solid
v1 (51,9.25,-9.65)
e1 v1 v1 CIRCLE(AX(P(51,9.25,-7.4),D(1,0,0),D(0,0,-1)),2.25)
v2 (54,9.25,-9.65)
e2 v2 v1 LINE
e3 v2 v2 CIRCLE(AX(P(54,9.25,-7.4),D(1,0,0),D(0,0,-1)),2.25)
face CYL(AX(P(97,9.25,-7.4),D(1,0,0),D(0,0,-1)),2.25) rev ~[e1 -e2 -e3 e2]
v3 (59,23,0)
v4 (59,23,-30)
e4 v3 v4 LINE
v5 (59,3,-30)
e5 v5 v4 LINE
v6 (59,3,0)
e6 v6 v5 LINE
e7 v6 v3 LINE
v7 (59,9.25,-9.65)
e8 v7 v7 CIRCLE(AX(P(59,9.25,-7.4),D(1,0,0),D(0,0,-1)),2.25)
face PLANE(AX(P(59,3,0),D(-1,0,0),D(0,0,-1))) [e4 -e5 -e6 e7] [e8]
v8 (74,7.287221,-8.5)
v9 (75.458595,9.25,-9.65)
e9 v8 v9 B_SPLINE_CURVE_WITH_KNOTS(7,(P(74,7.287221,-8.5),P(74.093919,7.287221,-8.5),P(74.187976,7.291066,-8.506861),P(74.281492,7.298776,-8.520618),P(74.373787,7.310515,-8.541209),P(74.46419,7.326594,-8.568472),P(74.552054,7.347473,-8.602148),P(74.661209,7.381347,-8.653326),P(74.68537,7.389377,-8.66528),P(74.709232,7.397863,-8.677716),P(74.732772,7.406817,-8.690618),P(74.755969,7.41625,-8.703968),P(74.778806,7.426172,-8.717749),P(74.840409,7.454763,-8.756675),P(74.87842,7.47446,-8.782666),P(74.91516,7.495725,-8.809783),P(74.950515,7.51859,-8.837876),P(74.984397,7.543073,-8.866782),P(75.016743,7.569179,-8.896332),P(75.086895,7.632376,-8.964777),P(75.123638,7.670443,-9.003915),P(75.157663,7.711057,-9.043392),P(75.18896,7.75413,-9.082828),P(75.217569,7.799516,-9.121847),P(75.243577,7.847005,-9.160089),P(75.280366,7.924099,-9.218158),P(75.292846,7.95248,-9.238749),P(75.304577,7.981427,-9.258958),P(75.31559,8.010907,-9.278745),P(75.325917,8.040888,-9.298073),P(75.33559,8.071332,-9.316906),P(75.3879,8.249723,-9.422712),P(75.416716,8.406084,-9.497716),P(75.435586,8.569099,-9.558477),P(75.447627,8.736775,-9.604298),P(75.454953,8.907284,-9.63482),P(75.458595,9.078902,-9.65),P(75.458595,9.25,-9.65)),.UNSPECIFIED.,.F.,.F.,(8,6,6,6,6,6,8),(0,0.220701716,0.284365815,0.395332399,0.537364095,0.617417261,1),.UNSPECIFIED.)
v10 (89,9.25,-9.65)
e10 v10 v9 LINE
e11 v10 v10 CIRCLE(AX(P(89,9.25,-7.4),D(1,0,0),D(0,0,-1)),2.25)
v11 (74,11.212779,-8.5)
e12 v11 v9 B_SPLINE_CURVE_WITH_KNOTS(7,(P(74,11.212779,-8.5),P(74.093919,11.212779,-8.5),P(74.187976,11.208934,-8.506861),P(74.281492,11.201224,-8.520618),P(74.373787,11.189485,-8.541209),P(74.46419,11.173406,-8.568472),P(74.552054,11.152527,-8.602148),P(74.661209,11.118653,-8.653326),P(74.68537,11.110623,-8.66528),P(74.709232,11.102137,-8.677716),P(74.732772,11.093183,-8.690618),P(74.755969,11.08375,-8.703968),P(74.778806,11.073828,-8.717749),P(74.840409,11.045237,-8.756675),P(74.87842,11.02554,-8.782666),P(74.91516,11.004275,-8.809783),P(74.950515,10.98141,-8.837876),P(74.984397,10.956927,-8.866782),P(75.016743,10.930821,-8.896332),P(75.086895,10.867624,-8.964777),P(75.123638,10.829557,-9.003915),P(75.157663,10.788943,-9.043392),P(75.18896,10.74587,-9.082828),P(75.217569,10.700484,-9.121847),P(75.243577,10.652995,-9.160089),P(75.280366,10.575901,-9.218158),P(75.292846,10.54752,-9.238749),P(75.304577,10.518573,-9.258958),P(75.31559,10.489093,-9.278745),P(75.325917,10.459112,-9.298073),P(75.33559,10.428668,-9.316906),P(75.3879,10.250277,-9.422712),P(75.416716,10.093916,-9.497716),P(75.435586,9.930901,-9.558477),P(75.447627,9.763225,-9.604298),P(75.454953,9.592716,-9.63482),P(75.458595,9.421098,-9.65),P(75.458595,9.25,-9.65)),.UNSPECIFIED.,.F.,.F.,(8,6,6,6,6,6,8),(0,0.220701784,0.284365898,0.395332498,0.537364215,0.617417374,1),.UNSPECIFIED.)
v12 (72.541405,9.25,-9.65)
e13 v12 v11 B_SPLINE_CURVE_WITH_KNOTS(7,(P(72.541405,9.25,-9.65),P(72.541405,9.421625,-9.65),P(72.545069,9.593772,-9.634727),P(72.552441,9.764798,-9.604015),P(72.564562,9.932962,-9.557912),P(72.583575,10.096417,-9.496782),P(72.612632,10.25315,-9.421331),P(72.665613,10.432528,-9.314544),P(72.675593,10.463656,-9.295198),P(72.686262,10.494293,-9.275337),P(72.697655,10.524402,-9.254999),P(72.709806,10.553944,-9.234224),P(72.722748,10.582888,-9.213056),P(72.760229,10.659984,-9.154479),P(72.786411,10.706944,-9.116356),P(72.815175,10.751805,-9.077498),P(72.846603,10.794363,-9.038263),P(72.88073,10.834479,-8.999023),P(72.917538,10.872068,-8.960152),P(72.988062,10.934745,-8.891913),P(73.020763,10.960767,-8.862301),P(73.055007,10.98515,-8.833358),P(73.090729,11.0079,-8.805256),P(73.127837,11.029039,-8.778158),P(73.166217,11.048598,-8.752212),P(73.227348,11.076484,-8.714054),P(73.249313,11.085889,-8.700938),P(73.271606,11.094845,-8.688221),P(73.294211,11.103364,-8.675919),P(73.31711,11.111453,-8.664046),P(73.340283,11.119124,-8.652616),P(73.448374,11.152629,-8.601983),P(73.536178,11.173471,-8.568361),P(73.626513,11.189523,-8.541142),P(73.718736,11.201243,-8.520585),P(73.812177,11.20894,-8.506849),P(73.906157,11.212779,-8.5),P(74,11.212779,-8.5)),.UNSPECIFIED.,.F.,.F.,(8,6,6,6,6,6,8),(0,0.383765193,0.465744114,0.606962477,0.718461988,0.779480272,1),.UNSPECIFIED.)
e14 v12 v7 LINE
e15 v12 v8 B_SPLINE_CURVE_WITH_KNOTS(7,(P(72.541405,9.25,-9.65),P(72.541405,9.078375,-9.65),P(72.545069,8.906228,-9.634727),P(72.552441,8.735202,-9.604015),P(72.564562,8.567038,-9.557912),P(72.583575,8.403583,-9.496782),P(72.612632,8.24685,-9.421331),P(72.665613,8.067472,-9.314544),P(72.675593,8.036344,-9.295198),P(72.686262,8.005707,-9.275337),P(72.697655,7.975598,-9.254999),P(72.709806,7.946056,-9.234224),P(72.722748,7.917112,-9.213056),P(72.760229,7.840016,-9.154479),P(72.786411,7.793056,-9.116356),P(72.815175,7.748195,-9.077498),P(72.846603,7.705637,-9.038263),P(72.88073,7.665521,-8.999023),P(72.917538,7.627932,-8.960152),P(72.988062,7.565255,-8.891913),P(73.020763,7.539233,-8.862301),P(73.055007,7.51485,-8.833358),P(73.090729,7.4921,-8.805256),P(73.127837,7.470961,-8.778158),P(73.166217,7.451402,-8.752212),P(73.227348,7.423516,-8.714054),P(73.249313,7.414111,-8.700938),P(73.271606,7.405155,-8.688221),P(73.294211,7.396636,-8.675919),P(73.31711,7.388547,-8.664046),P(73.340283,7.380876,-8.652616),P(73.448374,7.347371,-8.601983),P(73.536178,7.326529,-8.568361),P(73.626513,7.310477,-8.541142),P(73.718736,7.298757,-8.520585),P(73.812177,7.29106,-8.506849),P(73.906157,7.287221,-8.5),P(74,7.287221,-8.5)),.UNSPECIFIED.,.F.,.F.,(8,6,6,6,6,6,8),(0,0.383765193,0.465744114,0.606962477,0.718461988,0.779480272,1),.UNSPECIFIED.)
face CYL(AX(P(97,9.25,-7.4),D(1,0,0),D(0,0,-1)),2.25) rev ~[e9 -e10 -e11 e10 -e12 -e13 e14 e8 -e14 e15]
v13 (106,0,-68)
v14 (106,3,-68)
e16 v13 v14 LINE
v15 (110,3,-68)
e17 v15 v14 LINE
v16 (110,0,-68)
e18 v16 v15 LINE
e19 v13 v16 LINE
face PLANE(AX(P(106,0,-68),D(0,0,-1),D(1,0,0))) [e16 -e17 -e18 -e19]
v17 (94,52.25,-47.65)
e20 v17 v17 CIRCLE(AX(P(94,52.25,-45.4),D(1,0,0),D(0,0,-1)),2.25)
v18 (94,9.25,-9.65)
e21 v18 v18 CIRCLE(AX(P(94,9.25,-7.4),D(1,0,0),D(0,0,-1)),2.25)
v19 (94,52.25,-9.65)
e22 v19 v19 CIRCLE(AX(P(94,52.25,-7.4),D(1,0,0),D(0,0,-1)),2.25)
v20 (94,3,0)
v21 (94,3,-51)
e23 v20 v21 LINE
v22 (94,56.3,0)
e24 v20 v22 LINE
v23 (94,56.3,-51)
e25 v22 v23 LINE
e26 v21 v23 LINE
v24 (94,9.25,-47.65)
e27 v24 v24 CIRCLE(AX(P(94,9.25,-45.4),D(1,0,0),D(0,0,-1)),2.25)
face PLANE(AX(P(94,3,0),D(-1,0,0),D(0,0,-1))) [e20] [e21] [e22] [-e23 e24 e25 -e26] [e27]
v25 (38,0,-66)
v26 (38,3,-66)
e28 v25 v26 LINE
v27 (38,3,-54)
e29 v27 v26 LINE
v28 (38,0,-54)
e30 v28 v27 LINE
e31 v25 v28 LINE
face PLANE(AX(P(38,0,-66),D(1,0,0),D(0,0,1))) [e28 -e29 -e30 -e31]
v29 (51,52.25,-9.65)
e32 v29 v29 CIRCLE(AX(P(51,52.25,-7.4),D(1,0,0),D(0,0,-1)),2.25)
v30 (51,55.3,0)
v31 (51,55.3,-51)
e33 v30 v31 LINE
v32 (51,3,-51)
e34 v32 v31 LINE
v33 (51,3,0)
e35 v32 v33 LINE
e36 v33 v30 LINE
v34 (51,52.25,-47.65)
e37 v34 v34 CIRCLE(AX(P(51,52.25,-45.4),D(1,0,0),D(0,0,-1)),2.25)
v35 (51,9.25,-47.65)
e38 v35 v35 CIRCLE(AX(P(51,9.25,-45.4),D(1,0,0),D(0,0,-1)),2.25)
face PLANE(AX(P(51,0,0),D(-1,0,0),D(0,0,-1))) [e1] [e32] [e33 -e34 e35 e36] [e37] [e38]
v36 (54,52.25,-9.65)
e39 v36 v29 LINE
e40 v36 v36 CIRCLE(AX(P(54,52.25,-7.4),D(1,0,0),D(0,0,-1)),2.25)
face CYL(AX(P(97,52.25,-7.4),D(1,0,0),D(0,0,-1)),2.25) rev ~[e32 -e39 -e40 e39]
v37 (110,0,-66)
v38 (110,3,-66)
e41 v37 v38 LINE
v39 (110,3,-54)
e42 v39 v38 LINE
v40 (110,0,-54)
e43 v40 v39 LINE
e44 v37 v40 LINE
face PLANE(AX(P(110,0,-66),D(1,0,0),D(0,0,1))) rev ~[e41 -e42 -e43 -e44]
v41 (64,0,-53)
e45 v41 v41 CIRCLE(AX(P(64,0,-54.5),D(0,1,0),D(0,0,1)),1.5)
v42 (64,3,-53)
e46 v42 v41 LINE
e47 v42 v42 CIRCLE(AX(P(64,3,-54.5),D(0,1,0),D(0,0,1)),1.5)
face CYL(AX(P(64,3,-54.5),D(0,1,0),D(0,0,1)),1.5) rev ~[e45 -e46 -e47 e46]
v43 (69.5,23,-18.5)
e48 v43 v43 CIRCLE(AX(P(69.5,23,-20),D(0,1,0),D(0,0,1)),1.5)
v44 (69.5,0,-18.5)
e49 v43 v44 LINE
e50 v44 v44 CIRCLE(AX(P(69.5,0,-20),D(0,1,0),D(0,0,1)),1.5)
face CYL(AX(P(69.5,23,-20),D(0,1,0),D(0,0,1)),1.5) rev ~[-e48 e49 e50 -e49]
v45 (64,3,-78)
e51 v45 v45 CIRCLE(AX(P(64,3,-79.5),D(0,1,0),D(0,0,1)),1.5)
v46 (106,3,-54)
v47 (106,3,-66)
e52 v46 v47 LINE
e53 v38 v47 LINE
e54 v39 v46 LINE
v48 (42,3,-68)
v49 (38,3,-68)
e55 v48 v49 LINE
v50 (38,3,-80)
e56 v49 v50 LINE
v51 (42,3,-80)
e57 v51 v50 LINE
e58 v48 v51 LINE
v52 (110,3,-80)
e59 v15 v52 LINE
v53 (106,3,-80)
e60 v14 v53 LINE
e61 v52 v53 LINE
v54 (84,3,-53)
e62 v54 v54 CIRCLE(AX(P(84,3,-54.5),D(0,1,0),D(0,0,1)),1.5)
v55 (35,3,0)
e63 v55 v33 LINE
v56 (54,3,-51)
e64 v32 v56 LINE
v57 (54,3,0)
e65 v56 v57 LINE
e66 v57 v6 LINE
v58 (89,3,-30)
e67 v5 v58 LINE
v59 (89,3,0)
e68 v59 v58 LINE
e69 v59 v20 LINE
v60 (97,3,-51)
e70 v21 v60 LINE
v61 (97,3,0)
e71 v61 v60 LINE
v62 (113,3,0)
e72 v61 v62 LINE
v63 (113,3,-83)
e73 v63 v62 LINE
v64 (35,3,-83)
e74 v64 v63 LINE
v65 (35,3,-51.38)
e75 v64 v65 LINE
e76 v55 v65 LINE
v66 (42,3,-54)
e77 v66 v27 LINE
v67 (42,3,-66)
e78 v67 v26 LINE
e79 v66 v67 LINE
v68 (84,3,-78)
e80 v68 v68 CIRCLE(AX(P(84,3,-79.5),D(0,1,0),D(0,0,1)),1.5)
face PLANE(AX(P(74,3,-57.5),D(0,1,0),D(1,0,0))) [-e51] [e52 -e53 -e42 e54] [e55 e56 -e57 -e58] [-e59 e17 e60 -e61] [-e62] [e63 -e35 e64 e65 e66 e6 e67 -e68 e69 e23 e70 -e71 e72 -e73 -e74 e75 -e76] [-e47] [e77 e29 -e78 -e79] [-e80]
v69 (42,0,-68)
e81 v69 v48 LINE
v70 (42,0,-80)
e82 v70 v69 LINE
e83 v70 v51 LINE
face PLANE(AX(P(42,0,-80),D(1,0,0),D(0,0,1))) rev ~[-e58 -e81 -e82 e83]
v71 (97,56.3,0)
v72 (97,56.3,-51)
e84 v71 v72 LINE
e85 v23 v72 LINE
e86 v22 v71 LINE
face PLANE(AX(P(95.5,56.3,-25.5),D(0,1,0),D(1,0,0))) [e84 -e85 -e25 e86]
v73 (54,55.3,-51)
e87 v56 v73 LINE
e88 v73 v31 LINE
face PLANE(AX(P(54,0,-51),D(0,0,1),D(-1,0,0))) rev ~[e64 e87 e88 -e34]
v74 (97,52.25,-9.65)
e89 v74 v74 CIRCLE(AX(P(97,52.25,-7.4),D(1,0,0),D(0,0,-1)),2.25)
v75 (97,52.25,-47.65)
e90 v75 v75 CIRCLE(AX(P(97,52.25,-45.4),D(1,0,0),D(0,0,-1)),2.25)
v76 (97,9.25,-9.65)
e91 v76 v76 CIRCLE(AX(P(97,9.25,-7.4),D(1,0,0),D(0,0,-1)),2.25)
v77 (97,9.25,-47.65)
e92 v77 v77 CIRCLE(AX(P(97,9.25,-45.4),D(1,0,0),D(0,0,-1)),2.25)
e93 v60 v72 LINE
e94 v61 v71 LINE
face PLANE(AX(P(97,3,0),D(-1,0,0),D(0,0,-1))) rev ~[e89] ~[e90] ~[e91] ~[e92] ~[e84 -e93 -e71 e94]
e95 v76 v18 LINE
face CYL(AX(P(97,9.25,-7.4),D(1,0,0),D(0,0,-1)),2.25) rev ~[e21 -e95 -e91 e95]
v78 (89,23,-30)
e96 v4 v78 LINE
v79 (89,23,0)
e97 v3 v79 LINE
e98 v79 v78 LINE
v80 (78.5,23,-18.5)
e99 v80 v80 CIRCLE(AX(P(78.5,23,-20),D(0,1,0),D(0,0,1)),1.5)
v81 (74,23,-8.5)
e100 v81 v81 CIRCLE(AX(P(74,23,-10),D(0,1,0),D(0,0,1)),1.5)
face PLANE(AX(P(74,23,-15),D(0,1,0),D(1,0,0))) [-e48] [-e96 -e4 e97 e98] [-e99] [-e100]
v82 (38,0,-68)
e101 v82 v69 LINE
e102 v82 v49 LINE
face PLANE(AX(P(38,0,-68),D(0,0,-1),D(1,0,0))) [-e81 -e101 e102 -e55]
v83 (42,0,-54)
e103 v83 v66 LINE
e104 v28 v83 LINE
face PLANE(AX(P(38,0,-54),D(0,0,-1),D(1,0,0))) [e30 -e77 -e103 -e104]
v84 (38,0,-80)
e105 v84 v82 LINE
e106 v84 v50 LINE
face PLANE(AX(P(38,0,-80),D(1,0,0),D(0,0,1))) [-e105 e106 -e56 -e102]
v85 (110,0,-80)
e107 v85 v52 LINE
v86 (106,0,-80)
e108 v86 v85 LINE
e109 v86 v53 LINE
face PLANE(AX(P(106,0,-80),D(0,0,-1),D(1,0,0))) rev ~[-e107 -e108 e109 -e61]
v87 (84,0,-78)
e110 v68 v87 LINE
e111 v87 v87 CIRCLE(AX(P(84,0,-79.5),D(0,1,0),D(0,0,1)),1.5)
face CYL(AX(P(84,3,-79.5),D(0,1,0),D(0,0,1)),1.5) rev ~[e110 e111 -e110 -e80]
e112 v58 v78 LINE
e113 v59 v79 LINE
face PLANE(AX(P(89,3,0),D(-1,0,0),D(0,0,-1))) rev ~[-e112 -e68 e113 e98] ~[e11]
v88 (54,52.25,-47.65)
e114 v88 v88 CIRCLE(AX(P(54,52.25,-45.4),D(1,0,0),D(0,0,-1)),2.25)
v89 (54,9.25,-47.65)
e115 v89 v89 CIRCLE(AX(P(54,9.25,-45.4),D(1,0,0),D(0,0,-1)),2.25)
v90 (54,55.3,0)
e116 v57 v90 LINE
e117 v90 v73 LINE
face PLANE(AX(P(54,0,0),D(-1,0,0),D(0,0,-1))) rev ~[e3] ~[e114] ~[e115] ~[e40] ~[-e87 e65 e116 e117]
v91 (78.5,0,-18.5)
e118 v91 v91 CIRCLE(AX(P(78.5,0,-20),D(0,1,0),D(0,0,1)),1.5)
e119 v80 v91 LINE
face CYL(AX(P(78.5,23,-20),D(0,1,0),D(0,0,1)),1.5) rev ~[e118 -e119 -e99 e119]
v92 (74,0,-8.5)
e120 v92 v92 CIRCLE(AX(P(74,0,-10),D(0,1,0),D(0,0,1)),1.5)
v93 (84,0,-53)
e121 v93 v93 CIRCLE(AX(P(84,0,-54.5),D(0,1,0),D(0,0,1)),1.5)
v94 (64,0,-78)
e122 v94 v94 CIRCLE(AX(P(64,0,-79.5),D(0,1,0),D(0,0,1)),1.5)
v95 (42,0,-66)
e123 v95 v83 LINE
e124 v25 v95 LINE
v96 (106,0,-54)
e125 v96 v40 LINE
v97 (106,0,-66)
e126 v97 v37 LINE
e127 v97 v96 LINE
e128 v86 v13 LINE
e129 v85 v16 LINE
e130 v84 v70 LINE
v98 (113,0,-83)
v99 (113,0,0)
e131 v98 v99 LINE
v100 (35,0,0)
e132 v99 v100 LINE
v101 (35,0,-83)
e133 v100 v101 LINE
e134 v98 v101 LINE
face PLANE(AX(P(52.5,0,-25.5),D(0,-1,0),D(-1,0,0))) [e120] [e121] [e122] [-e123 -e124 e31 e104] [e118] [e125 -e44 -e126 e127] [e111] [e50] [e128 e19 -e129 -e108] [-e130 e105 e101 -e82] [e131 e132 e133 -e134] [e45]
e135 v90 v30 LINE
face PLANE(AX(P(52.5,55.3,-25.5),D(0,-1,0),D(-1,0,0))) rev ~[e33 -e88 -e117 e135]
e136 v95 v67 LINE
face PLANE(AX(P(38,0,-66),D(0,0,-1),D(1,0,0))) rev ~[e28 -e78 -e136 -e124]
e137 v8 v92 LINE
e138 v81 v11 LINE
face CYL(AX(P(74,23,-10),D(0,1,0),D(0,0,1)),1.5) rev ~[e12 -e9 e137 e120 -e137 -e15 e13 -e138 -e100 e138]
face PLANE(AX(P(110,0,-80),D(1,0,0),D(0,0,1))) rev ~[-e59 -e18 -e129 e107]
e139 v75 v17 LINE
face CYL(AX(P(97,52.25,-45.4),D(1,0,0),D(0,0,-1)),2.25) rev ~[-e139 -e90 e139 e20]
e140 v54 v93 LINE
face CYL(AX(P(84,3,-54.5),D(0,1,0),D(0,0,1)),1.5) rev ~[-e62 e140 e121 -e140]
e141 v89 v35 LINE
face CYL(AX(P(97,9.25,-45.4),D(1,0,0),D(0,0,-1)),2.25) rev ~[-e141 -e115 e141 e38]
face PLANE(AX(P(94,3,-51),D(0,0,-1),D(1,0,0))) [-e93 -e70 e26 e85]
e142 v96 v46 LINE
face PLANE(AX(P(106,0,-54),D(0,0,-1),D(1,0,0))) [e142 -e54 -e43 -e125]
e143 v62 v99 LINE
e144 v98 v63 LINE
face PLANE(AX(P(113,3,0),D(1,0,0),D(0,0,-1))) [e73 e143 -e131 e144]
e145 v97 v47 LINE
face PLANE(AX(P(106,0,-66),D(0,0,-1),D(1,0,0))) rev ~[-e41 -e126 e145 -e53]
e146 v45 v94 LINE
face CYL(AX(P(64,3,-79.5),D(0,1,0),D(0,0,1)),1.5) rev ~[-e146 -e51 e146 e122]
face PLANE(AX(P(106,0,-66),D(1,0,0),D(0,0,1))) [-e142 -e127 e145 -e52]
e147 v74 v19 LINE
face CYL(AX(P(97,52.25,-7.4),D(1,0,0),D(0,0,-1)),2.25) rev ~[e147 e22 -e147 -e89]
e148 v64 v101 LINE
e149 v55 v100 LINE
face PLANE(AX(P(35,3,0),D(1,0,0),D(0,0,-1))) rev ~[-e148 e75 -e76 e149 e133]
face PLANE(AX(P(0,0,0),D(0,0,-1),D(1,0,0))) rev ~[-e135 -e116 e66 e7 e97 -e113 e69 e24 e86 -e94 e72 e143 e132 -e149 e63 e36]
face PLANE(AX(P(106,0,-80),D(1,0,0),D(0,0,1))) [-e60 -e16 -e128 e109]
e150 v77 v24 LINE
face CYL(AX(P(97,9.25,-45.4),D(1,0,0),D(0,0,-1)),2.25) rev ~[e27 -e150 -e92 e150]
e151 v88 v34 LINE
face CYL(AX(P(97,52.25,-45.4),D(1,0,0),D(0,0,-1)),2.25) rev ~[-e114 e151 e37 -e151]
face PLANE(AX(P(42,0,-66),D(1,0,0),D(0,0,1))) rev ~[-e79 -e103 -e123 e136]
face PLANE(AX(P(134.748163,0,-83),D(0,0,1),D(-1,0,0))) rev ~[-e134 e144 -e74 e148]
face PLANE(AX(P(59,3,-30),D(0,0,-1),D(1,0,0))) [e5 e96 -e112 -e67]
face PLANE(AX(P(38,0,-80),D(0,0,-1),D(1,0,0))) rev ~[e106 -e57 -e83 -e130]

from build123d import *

# Parameters (mm, degrees)
SKETCH1_W            = 148
SKETCH1_H            = 115
BOSS_EXTRUDE4_DEPTH  = 3
SKETCH2_R            = 2.25
CUT_EXTRUDE1_DEPTH   = 3
SKETCH3_R            = 2.25
CUT_EXTRUDE2_DEPTH   = 3
SKETCH4_R            = 2.25
CUT_EXTRUDE3_DEPTH   = 3
SKETCH5_W            = 30
SKETCH5_H            = 30
BOSS_EXTRUDE7_DEPTH  = 20
SKETCH6_R            = 2.25
CUT_EXTRUDE4_DEPTH   = 10
SKETCH7_R            = 1.5
CUT_EXTRUDE5_DEPTH   = 30
SKETCH10_W           = 20
SKETCH10_H           = 51.38
CUT_EXTRUDE6_DEPTH   = 51.3
SKETCH11_W           = 20.353734706
SKETCH11_H           = 51.38
CUT_EXTRUDE7_DEPTH   = 51.3
SKETCH13_W           = 5
SKETCH13_H           = 14
CUT_EXTRUDE8_DEPTH   = 51.3
SKETCH8_W            = 3
SKETCH8_H            = 51
BOSS_EXTRUDE11_DEPTH = 53.3
SKETCH9_W            = 3
SKETCH9_H            = 51
BOSS_EXTRUDE12_DEPTH = 55.3
SKETCH15_R           = 2.25
CUT_EXTRUDE12_DEPTH  = 53.3
SKETCH14_R           = 2.25
CUT_EXTRUDE13_DEPTH  = 53.3
SKETCH17_R           = 2.25
CUT_EXTRUDE14_DEPTH  = 53.3
SKETCH18_W           = 15
SKETCH18_H           = 51.38
CUT_EXTRUDE15_DEPTH  = 10
SKETCH19_W           = 145.001760506
SKETCH19_H           = 61.096648556
BOSS_EXTRUDE13_DEPTH = 3
SKETCH20_R           = 1.5
CUT_EXTRUDE16_DEPTH  = 43
SKETCH21_W           = 109.74816289
SKETCH21_H           = 51.975747058
CUT_EXTRUDE18_DEPTH  = 43
SKETCH23_W           = 39.73104878
SKETCH23_H           = 68.636927329
CUT_EXTRUDE19_DEPTH  = 43
SKETCH24_W           = 37.931057655
SKETCH24_H           = 65.519761518
CUT_EXTRUDE20_DEPTH  = 43
SKETCH25_W           = 4
SKETCH25_H           = 12
CUT_EXTRUDE23_DEPTH  = 43


with BuildPart() as part:
    # Sketch1 → Boss-Extrude4 (new body)
    with BuildSketch(Plane(origin=(0, 0, 0), x_dir=(1, 0, 0), z_dir=(0, 1, 0))):
        with Locations((74, 57.5)):
            Rectangle(SKETCH1_W, SKETCH1_H)
    extrude(amount=BOSS_EXTRUDE4_DEPTH)

    # Sketch2 → Cut-Extrude1 (cut)
    with BuildSketch(Plane(origin=(0, 3, 0), x_dir=(1, 0, 0), z_dir=(0, 1, 0))):
        with Locations(Location((5, 110, 0), (0, 0, 270))):
            Circle(SKETCH2_R)
    extrude(amount=-CUT_EXTRUDE1_DEPTH, mode=Mode.SUBTRACT)

    # Sketch3 → Cut-Extrude2 (cut)
    with BuildSketch(Plane(origin=(0, 3, 0), x_dir=(1, 0, 0), z_dir=(0, 1, 0))):
        with Locations(Location((143, 110, 0), (0, 0, 270))):
            Circle(SKETCH3_R)
    extrude(amount=-CUT_EXTRUDE2_DEPTH, mode=Mode.SUBTRACT)

    # Sketch4 → Cut-Extrude3 (cut)
    with BuildSketch(Plane(origin=(0, 3, 0), x_dir=(1, 0, 0), z_dir=(0, 1, 0))):
        with Locations(Location((5, 56, 0), (0, 0, 270))):
            Circle(SKETCH4_R)
    extrude(amount=-CUT_EXTRUDE3_DEPTH, mode=Mode.SUBTRACT)

    # Sketch5 → Boss-Extrude7 (add)
    with BuildSketch(Plane(origin=(0, 3, 0), x_dir=(1, 0, 0), z_dir=(0, 1, 0))):
        with Locations((74, 15)):
            Rectangle(SKETCH5_W, SKETCH5_H)
    extrude(amount=BOSS_EXTRUDE7_DEPTH)

    # Sketch6 → Cut-Extrude4 (cut)
    with BuildSketch(Plane(origin=(0, 3, 0), x_dir=(1, 0, 0), z_dir=(0, 1, 0))):
        with Locations(Location((20, 110, 0), (0, 0, 270))):
            Circle(SKETCH6_R)
        with Locations(Location((35, 110, 0), (0, 0, 270))):
            Circle(SKETCH6_R)
        with Locations(Location((20, 56, 0), (0, 0, 270))):
            Circle(SKETCH6_R)
        with Locations(Location((35, 56, 0), (0, 0, 270))):
            Circle(SKETCH6_R)
        with Locations(Location((128, 110, 0), (0, 0, 270))):
            Circle(SKETCH6_R)
        with Locations(Location((113, 110, 0), (0, 0, 270))):
            Circle(SKETCH6_R)
        with Locations(Location((113, 56, 0), (0, 0, 270))):
            Circle(SKETCH6_R)
        with Locations(Location((128, 56, 0), (0, 0, 270))):
            Circle(SKETCH6_R)
        with Locations(Location((143, 56, 0), (0, 0, 270))):
            Circle(SKETCH6_R)
    extrude(amount=-CUT_EXTRUDE4_DEPTH, mode=Mode.SUBTRACT)

    # Sketch7 → Cut-Extrude5 (cut)
    with BuildSketch(Plane(origin=(0, 23, 0), x_dir=(1, 0, 0), z_dir=(0, 1, 0))):
        with Locations(Location((69.5, 20, 0), (0, 0, 270))):
            Circle(SKETCH7_R)
        with Locations(Location((74, 10, 0), (0, 0, 270))):
            Circle(SKETCH7_R)
        with Locations(Location((78.5, 20, 0), (0, 0, 270))):
            Circle(SKETCH7_R)
    extrude(amount=-CUT_EXTRUDE5_DEPTH, mode=Mode.SUBTRACT)

    # Sketch10 → Cut-Extrude6 (cut)
    with BuildSketch(Plane(origin=(0, 3, 0), x_dir=(1, 0, 0), z_dir=(0, 1, 0))):
        with Locations((138, 25.69)):
            Rectangle(SKETCH10_W, SKETCH10_H)
    extrude(amount=-CUT_EXTRUDE6_DEPTH, mode=Mode.SUBTRACT)

    # Sketch11 → Cut-Extrude7 (cut)
    with BuildSketch(Plane(origin=(0, 3, 0), x_dir=(1, 0, 0), z_dir=(0, 1, 0))):
        with Locations((9.823132647, 25.69)):
            Rectangle(SKETCH11_W, SKETCH11_H)
    extrude(amount=-CUT_EXTRUDE7_DEPTH, mode=Mode.SUBTRACT)

    # Sketch13 → Cut-Extrude8 (cut)
    with BuildSketch(Plane(origin=(0, 3, 0), x_dir=(1, 0, 0), z_dir=(0, 1, 0))):
        with Locations((27.5, 39)):
            Rectangle(SKETCH13_W, SKETCH13_H)
        with Locations((27.5, 23)):
            Rectangle(SKETCH13_W, SKETCH13_H)
        with Locations((120.5, 39)):
            Rectangle(SKETCH13_W, SKETCH13_H)
        with Locations((120.5, 23)):
            Rectangle(SKETCH13_W, SKETCH13_H)
    extrude(amount=-CUT_EXTRUDE8_DEPTH, mode=Mode.SUBTRACT)

    # Sketch8 → Boss-Extrude11 (add)
    with BuildSketch(Plane(origin=(0, 3, 0), x_dir=(1, 0, 0), z_dir=(0, 1, 0))):
        with Locations((95.5, 25.5)):
            Rectangle(SKETCH8_W, SKETCH8_H)
    extrude(amount=BOSS_EXTRUDE11_DEPTH)

    # Sketch9 → Boss-Extrude12 (add)
    with BuildSketch(Plane(origin=(0, 0, 0), x_dir=(-1, 0, 0), z_dir=(0, -1, 0))):
        with Locations((-52.5, 25.5)):
            Rectangle(SKETCH9_W, SKETCH9_H)
    extrude(amount=-BOSS_EXTRUDE12_DEPTH)

    # Sketch15 → Cut-Extrude12 (cut)
    with BuildSketch(Plane(origin=(97, 0, 0), x_dir=(0, 0, -1), z_dir=(1, 0, 0))):
        with Locations((45.4, 9.25)):
            Circle(SKETCH15_R)
    extrude(amount=-CUT_EXTRUDE12_DEPTH, mode=Mode.SUBTRACT)

    # Sketch14 → Cut-Extrude13 (cut)
    with BuildSketch(Plane(origin=(97, 0, 0), x_dir=(0, 0, -1), z_dir=(1, 0, 0))):
        with Locations((45.4, 52.25)):
            Circle(SKETCH14_R)
        with Locations((7.4, 9.25)):
            Circle(SKETCH14_R)
    extrude(amount=-CUT_EXTRUDE13_DEPTH, mode=Mode.SUBTRACT)

    # Sketch17 → Cut-Extrude14 (cut)
    with BuildSketch(Plane(origin=(97, 0, 0), x_dir=(0, 0, -1), z_dir=(1, 0, 0))):
        with Locations((7.4, 52.25)):
            Circle(SKETCH17_R)
    extrude(amount=-CUT_EXTRUDE14_DEPTH, mode=Mode.SUBTRACT)

    # Sketch18 → Cut-Extrude15 (cut)
    with BuildSketch(Plane(origin=(0, 3, 0), x_dir=(1, 0, 0), z_dir=(0, 1, 0))):
        with Locations((120.5, 25.69)):
            Rectangle(SKETCH18_W, SKETCH18_H)
        with Locations((27.5, 25.69)):
            Rectangle(SKETCH18_W, SKETCH18_H)
    extrude(amount=-CUT_EXTRUDE15_DEPTH, mode=Mode.SUBTRACT)

    # Sketch19 → Boss-Extrude13 (add)
    with BuildSketch(Plane(origin=(0, 3, 0), x_dir=(1, 0, 0), z_dir=(0, 1, 0))):
        with Locations((74.214102408, 83.006974137)):
            Rectangle(SKETCH19_W, SKETCH19_H)
    extrude(amount=-BOSS_EXTRUDE13_DEPTH)

    # Sketch20 → Cut-Extrude16 (cut)
    with BuildSketch(Plane(origin=(0, 3, 0), x_dir=(1, 0, 0), z_dir=(0, 1, 0))):
        with Locations(Location((64, 79.5, 0), (0, 0, 270))):
            Circle(SKETCH20_R)
        with Locations(Location((84, 79.5, 0), (0, 0, 270))):
            Circle(SKETCH20_R)
        with Locations(Location((64, 54.5, 0), (0, 0, 270))):
            Circle(SKETCH20_R)
        with Locations(Location((84, 54.5, 0), (0, 0, 270))):
            Circle(SKETCH20_R)
    extrude(amount=-CUT_EXTRUDE16_DEPTH, mode=Mode.SUBTRACT)

    # Sketch21 → Cut-Extrude18 (cut)
    with BuildSketch(Plane(origin=(0, 0, 0), x_dir=(-1, 0, 0), z_dir=(0, -1, 0))):
        with Locations((-79.874081445, 108.987873529)):
            Rectangle(SKETCH21_W, SKETCH21_H)
    extrude(amount=-CUT_EXTRUDE18_DEPTH, mode=Mode.SUBTRACT)

    # Sketch23 → Cut-Extrude19 (cut)
    with BuildSketch(Plane.XZ):
        with Locations((132.86552439, -85.698463665)):
            Rectangle(SKETCH23_W, SKETCH23_H)
    extrude(amount=-CUT_EXTRUDE19_DEPTH, mode=Mode.SUBTRACT)

    # Sketch24 → Cut-Extrude20 (cut)
    with BuildSketch(Plane(origin=(0, 0, 0), x_dir=(-1, 0, 0), z_dir=(0, -1, 0))):
        with Locations((-16.034471172, 84.139880759)):
            Rectangle(SKETCH24_W, SKETCH24_H)
    extrude(amount=-CUT_EXTRUDE20_DEPTH, mode=Mode.SUBTRACT)

    # Sketch25 → Cut-Extrude23 (cut)
    with BuildSketch(Plane.XZ):
        with Locations((40, -74)):
            Rectangle(SKETCH25_W, SKETCH25_H)
        with Locations((40, -60)):
            Rectangle(SKETCH25_W, SKETCH25_H)
        with Locations((108, -74)):
            Rectangle(SKETCH25_W, SKETCH25_H)
        with Locations((108, -60)):
            Rectangle(SKETCH25_W, SKETCH25_H)
    extrude(amount=-CUT_EXTRUDE23_DEPTH, mode=Mode.SUBTRACT)


solid = part.part
